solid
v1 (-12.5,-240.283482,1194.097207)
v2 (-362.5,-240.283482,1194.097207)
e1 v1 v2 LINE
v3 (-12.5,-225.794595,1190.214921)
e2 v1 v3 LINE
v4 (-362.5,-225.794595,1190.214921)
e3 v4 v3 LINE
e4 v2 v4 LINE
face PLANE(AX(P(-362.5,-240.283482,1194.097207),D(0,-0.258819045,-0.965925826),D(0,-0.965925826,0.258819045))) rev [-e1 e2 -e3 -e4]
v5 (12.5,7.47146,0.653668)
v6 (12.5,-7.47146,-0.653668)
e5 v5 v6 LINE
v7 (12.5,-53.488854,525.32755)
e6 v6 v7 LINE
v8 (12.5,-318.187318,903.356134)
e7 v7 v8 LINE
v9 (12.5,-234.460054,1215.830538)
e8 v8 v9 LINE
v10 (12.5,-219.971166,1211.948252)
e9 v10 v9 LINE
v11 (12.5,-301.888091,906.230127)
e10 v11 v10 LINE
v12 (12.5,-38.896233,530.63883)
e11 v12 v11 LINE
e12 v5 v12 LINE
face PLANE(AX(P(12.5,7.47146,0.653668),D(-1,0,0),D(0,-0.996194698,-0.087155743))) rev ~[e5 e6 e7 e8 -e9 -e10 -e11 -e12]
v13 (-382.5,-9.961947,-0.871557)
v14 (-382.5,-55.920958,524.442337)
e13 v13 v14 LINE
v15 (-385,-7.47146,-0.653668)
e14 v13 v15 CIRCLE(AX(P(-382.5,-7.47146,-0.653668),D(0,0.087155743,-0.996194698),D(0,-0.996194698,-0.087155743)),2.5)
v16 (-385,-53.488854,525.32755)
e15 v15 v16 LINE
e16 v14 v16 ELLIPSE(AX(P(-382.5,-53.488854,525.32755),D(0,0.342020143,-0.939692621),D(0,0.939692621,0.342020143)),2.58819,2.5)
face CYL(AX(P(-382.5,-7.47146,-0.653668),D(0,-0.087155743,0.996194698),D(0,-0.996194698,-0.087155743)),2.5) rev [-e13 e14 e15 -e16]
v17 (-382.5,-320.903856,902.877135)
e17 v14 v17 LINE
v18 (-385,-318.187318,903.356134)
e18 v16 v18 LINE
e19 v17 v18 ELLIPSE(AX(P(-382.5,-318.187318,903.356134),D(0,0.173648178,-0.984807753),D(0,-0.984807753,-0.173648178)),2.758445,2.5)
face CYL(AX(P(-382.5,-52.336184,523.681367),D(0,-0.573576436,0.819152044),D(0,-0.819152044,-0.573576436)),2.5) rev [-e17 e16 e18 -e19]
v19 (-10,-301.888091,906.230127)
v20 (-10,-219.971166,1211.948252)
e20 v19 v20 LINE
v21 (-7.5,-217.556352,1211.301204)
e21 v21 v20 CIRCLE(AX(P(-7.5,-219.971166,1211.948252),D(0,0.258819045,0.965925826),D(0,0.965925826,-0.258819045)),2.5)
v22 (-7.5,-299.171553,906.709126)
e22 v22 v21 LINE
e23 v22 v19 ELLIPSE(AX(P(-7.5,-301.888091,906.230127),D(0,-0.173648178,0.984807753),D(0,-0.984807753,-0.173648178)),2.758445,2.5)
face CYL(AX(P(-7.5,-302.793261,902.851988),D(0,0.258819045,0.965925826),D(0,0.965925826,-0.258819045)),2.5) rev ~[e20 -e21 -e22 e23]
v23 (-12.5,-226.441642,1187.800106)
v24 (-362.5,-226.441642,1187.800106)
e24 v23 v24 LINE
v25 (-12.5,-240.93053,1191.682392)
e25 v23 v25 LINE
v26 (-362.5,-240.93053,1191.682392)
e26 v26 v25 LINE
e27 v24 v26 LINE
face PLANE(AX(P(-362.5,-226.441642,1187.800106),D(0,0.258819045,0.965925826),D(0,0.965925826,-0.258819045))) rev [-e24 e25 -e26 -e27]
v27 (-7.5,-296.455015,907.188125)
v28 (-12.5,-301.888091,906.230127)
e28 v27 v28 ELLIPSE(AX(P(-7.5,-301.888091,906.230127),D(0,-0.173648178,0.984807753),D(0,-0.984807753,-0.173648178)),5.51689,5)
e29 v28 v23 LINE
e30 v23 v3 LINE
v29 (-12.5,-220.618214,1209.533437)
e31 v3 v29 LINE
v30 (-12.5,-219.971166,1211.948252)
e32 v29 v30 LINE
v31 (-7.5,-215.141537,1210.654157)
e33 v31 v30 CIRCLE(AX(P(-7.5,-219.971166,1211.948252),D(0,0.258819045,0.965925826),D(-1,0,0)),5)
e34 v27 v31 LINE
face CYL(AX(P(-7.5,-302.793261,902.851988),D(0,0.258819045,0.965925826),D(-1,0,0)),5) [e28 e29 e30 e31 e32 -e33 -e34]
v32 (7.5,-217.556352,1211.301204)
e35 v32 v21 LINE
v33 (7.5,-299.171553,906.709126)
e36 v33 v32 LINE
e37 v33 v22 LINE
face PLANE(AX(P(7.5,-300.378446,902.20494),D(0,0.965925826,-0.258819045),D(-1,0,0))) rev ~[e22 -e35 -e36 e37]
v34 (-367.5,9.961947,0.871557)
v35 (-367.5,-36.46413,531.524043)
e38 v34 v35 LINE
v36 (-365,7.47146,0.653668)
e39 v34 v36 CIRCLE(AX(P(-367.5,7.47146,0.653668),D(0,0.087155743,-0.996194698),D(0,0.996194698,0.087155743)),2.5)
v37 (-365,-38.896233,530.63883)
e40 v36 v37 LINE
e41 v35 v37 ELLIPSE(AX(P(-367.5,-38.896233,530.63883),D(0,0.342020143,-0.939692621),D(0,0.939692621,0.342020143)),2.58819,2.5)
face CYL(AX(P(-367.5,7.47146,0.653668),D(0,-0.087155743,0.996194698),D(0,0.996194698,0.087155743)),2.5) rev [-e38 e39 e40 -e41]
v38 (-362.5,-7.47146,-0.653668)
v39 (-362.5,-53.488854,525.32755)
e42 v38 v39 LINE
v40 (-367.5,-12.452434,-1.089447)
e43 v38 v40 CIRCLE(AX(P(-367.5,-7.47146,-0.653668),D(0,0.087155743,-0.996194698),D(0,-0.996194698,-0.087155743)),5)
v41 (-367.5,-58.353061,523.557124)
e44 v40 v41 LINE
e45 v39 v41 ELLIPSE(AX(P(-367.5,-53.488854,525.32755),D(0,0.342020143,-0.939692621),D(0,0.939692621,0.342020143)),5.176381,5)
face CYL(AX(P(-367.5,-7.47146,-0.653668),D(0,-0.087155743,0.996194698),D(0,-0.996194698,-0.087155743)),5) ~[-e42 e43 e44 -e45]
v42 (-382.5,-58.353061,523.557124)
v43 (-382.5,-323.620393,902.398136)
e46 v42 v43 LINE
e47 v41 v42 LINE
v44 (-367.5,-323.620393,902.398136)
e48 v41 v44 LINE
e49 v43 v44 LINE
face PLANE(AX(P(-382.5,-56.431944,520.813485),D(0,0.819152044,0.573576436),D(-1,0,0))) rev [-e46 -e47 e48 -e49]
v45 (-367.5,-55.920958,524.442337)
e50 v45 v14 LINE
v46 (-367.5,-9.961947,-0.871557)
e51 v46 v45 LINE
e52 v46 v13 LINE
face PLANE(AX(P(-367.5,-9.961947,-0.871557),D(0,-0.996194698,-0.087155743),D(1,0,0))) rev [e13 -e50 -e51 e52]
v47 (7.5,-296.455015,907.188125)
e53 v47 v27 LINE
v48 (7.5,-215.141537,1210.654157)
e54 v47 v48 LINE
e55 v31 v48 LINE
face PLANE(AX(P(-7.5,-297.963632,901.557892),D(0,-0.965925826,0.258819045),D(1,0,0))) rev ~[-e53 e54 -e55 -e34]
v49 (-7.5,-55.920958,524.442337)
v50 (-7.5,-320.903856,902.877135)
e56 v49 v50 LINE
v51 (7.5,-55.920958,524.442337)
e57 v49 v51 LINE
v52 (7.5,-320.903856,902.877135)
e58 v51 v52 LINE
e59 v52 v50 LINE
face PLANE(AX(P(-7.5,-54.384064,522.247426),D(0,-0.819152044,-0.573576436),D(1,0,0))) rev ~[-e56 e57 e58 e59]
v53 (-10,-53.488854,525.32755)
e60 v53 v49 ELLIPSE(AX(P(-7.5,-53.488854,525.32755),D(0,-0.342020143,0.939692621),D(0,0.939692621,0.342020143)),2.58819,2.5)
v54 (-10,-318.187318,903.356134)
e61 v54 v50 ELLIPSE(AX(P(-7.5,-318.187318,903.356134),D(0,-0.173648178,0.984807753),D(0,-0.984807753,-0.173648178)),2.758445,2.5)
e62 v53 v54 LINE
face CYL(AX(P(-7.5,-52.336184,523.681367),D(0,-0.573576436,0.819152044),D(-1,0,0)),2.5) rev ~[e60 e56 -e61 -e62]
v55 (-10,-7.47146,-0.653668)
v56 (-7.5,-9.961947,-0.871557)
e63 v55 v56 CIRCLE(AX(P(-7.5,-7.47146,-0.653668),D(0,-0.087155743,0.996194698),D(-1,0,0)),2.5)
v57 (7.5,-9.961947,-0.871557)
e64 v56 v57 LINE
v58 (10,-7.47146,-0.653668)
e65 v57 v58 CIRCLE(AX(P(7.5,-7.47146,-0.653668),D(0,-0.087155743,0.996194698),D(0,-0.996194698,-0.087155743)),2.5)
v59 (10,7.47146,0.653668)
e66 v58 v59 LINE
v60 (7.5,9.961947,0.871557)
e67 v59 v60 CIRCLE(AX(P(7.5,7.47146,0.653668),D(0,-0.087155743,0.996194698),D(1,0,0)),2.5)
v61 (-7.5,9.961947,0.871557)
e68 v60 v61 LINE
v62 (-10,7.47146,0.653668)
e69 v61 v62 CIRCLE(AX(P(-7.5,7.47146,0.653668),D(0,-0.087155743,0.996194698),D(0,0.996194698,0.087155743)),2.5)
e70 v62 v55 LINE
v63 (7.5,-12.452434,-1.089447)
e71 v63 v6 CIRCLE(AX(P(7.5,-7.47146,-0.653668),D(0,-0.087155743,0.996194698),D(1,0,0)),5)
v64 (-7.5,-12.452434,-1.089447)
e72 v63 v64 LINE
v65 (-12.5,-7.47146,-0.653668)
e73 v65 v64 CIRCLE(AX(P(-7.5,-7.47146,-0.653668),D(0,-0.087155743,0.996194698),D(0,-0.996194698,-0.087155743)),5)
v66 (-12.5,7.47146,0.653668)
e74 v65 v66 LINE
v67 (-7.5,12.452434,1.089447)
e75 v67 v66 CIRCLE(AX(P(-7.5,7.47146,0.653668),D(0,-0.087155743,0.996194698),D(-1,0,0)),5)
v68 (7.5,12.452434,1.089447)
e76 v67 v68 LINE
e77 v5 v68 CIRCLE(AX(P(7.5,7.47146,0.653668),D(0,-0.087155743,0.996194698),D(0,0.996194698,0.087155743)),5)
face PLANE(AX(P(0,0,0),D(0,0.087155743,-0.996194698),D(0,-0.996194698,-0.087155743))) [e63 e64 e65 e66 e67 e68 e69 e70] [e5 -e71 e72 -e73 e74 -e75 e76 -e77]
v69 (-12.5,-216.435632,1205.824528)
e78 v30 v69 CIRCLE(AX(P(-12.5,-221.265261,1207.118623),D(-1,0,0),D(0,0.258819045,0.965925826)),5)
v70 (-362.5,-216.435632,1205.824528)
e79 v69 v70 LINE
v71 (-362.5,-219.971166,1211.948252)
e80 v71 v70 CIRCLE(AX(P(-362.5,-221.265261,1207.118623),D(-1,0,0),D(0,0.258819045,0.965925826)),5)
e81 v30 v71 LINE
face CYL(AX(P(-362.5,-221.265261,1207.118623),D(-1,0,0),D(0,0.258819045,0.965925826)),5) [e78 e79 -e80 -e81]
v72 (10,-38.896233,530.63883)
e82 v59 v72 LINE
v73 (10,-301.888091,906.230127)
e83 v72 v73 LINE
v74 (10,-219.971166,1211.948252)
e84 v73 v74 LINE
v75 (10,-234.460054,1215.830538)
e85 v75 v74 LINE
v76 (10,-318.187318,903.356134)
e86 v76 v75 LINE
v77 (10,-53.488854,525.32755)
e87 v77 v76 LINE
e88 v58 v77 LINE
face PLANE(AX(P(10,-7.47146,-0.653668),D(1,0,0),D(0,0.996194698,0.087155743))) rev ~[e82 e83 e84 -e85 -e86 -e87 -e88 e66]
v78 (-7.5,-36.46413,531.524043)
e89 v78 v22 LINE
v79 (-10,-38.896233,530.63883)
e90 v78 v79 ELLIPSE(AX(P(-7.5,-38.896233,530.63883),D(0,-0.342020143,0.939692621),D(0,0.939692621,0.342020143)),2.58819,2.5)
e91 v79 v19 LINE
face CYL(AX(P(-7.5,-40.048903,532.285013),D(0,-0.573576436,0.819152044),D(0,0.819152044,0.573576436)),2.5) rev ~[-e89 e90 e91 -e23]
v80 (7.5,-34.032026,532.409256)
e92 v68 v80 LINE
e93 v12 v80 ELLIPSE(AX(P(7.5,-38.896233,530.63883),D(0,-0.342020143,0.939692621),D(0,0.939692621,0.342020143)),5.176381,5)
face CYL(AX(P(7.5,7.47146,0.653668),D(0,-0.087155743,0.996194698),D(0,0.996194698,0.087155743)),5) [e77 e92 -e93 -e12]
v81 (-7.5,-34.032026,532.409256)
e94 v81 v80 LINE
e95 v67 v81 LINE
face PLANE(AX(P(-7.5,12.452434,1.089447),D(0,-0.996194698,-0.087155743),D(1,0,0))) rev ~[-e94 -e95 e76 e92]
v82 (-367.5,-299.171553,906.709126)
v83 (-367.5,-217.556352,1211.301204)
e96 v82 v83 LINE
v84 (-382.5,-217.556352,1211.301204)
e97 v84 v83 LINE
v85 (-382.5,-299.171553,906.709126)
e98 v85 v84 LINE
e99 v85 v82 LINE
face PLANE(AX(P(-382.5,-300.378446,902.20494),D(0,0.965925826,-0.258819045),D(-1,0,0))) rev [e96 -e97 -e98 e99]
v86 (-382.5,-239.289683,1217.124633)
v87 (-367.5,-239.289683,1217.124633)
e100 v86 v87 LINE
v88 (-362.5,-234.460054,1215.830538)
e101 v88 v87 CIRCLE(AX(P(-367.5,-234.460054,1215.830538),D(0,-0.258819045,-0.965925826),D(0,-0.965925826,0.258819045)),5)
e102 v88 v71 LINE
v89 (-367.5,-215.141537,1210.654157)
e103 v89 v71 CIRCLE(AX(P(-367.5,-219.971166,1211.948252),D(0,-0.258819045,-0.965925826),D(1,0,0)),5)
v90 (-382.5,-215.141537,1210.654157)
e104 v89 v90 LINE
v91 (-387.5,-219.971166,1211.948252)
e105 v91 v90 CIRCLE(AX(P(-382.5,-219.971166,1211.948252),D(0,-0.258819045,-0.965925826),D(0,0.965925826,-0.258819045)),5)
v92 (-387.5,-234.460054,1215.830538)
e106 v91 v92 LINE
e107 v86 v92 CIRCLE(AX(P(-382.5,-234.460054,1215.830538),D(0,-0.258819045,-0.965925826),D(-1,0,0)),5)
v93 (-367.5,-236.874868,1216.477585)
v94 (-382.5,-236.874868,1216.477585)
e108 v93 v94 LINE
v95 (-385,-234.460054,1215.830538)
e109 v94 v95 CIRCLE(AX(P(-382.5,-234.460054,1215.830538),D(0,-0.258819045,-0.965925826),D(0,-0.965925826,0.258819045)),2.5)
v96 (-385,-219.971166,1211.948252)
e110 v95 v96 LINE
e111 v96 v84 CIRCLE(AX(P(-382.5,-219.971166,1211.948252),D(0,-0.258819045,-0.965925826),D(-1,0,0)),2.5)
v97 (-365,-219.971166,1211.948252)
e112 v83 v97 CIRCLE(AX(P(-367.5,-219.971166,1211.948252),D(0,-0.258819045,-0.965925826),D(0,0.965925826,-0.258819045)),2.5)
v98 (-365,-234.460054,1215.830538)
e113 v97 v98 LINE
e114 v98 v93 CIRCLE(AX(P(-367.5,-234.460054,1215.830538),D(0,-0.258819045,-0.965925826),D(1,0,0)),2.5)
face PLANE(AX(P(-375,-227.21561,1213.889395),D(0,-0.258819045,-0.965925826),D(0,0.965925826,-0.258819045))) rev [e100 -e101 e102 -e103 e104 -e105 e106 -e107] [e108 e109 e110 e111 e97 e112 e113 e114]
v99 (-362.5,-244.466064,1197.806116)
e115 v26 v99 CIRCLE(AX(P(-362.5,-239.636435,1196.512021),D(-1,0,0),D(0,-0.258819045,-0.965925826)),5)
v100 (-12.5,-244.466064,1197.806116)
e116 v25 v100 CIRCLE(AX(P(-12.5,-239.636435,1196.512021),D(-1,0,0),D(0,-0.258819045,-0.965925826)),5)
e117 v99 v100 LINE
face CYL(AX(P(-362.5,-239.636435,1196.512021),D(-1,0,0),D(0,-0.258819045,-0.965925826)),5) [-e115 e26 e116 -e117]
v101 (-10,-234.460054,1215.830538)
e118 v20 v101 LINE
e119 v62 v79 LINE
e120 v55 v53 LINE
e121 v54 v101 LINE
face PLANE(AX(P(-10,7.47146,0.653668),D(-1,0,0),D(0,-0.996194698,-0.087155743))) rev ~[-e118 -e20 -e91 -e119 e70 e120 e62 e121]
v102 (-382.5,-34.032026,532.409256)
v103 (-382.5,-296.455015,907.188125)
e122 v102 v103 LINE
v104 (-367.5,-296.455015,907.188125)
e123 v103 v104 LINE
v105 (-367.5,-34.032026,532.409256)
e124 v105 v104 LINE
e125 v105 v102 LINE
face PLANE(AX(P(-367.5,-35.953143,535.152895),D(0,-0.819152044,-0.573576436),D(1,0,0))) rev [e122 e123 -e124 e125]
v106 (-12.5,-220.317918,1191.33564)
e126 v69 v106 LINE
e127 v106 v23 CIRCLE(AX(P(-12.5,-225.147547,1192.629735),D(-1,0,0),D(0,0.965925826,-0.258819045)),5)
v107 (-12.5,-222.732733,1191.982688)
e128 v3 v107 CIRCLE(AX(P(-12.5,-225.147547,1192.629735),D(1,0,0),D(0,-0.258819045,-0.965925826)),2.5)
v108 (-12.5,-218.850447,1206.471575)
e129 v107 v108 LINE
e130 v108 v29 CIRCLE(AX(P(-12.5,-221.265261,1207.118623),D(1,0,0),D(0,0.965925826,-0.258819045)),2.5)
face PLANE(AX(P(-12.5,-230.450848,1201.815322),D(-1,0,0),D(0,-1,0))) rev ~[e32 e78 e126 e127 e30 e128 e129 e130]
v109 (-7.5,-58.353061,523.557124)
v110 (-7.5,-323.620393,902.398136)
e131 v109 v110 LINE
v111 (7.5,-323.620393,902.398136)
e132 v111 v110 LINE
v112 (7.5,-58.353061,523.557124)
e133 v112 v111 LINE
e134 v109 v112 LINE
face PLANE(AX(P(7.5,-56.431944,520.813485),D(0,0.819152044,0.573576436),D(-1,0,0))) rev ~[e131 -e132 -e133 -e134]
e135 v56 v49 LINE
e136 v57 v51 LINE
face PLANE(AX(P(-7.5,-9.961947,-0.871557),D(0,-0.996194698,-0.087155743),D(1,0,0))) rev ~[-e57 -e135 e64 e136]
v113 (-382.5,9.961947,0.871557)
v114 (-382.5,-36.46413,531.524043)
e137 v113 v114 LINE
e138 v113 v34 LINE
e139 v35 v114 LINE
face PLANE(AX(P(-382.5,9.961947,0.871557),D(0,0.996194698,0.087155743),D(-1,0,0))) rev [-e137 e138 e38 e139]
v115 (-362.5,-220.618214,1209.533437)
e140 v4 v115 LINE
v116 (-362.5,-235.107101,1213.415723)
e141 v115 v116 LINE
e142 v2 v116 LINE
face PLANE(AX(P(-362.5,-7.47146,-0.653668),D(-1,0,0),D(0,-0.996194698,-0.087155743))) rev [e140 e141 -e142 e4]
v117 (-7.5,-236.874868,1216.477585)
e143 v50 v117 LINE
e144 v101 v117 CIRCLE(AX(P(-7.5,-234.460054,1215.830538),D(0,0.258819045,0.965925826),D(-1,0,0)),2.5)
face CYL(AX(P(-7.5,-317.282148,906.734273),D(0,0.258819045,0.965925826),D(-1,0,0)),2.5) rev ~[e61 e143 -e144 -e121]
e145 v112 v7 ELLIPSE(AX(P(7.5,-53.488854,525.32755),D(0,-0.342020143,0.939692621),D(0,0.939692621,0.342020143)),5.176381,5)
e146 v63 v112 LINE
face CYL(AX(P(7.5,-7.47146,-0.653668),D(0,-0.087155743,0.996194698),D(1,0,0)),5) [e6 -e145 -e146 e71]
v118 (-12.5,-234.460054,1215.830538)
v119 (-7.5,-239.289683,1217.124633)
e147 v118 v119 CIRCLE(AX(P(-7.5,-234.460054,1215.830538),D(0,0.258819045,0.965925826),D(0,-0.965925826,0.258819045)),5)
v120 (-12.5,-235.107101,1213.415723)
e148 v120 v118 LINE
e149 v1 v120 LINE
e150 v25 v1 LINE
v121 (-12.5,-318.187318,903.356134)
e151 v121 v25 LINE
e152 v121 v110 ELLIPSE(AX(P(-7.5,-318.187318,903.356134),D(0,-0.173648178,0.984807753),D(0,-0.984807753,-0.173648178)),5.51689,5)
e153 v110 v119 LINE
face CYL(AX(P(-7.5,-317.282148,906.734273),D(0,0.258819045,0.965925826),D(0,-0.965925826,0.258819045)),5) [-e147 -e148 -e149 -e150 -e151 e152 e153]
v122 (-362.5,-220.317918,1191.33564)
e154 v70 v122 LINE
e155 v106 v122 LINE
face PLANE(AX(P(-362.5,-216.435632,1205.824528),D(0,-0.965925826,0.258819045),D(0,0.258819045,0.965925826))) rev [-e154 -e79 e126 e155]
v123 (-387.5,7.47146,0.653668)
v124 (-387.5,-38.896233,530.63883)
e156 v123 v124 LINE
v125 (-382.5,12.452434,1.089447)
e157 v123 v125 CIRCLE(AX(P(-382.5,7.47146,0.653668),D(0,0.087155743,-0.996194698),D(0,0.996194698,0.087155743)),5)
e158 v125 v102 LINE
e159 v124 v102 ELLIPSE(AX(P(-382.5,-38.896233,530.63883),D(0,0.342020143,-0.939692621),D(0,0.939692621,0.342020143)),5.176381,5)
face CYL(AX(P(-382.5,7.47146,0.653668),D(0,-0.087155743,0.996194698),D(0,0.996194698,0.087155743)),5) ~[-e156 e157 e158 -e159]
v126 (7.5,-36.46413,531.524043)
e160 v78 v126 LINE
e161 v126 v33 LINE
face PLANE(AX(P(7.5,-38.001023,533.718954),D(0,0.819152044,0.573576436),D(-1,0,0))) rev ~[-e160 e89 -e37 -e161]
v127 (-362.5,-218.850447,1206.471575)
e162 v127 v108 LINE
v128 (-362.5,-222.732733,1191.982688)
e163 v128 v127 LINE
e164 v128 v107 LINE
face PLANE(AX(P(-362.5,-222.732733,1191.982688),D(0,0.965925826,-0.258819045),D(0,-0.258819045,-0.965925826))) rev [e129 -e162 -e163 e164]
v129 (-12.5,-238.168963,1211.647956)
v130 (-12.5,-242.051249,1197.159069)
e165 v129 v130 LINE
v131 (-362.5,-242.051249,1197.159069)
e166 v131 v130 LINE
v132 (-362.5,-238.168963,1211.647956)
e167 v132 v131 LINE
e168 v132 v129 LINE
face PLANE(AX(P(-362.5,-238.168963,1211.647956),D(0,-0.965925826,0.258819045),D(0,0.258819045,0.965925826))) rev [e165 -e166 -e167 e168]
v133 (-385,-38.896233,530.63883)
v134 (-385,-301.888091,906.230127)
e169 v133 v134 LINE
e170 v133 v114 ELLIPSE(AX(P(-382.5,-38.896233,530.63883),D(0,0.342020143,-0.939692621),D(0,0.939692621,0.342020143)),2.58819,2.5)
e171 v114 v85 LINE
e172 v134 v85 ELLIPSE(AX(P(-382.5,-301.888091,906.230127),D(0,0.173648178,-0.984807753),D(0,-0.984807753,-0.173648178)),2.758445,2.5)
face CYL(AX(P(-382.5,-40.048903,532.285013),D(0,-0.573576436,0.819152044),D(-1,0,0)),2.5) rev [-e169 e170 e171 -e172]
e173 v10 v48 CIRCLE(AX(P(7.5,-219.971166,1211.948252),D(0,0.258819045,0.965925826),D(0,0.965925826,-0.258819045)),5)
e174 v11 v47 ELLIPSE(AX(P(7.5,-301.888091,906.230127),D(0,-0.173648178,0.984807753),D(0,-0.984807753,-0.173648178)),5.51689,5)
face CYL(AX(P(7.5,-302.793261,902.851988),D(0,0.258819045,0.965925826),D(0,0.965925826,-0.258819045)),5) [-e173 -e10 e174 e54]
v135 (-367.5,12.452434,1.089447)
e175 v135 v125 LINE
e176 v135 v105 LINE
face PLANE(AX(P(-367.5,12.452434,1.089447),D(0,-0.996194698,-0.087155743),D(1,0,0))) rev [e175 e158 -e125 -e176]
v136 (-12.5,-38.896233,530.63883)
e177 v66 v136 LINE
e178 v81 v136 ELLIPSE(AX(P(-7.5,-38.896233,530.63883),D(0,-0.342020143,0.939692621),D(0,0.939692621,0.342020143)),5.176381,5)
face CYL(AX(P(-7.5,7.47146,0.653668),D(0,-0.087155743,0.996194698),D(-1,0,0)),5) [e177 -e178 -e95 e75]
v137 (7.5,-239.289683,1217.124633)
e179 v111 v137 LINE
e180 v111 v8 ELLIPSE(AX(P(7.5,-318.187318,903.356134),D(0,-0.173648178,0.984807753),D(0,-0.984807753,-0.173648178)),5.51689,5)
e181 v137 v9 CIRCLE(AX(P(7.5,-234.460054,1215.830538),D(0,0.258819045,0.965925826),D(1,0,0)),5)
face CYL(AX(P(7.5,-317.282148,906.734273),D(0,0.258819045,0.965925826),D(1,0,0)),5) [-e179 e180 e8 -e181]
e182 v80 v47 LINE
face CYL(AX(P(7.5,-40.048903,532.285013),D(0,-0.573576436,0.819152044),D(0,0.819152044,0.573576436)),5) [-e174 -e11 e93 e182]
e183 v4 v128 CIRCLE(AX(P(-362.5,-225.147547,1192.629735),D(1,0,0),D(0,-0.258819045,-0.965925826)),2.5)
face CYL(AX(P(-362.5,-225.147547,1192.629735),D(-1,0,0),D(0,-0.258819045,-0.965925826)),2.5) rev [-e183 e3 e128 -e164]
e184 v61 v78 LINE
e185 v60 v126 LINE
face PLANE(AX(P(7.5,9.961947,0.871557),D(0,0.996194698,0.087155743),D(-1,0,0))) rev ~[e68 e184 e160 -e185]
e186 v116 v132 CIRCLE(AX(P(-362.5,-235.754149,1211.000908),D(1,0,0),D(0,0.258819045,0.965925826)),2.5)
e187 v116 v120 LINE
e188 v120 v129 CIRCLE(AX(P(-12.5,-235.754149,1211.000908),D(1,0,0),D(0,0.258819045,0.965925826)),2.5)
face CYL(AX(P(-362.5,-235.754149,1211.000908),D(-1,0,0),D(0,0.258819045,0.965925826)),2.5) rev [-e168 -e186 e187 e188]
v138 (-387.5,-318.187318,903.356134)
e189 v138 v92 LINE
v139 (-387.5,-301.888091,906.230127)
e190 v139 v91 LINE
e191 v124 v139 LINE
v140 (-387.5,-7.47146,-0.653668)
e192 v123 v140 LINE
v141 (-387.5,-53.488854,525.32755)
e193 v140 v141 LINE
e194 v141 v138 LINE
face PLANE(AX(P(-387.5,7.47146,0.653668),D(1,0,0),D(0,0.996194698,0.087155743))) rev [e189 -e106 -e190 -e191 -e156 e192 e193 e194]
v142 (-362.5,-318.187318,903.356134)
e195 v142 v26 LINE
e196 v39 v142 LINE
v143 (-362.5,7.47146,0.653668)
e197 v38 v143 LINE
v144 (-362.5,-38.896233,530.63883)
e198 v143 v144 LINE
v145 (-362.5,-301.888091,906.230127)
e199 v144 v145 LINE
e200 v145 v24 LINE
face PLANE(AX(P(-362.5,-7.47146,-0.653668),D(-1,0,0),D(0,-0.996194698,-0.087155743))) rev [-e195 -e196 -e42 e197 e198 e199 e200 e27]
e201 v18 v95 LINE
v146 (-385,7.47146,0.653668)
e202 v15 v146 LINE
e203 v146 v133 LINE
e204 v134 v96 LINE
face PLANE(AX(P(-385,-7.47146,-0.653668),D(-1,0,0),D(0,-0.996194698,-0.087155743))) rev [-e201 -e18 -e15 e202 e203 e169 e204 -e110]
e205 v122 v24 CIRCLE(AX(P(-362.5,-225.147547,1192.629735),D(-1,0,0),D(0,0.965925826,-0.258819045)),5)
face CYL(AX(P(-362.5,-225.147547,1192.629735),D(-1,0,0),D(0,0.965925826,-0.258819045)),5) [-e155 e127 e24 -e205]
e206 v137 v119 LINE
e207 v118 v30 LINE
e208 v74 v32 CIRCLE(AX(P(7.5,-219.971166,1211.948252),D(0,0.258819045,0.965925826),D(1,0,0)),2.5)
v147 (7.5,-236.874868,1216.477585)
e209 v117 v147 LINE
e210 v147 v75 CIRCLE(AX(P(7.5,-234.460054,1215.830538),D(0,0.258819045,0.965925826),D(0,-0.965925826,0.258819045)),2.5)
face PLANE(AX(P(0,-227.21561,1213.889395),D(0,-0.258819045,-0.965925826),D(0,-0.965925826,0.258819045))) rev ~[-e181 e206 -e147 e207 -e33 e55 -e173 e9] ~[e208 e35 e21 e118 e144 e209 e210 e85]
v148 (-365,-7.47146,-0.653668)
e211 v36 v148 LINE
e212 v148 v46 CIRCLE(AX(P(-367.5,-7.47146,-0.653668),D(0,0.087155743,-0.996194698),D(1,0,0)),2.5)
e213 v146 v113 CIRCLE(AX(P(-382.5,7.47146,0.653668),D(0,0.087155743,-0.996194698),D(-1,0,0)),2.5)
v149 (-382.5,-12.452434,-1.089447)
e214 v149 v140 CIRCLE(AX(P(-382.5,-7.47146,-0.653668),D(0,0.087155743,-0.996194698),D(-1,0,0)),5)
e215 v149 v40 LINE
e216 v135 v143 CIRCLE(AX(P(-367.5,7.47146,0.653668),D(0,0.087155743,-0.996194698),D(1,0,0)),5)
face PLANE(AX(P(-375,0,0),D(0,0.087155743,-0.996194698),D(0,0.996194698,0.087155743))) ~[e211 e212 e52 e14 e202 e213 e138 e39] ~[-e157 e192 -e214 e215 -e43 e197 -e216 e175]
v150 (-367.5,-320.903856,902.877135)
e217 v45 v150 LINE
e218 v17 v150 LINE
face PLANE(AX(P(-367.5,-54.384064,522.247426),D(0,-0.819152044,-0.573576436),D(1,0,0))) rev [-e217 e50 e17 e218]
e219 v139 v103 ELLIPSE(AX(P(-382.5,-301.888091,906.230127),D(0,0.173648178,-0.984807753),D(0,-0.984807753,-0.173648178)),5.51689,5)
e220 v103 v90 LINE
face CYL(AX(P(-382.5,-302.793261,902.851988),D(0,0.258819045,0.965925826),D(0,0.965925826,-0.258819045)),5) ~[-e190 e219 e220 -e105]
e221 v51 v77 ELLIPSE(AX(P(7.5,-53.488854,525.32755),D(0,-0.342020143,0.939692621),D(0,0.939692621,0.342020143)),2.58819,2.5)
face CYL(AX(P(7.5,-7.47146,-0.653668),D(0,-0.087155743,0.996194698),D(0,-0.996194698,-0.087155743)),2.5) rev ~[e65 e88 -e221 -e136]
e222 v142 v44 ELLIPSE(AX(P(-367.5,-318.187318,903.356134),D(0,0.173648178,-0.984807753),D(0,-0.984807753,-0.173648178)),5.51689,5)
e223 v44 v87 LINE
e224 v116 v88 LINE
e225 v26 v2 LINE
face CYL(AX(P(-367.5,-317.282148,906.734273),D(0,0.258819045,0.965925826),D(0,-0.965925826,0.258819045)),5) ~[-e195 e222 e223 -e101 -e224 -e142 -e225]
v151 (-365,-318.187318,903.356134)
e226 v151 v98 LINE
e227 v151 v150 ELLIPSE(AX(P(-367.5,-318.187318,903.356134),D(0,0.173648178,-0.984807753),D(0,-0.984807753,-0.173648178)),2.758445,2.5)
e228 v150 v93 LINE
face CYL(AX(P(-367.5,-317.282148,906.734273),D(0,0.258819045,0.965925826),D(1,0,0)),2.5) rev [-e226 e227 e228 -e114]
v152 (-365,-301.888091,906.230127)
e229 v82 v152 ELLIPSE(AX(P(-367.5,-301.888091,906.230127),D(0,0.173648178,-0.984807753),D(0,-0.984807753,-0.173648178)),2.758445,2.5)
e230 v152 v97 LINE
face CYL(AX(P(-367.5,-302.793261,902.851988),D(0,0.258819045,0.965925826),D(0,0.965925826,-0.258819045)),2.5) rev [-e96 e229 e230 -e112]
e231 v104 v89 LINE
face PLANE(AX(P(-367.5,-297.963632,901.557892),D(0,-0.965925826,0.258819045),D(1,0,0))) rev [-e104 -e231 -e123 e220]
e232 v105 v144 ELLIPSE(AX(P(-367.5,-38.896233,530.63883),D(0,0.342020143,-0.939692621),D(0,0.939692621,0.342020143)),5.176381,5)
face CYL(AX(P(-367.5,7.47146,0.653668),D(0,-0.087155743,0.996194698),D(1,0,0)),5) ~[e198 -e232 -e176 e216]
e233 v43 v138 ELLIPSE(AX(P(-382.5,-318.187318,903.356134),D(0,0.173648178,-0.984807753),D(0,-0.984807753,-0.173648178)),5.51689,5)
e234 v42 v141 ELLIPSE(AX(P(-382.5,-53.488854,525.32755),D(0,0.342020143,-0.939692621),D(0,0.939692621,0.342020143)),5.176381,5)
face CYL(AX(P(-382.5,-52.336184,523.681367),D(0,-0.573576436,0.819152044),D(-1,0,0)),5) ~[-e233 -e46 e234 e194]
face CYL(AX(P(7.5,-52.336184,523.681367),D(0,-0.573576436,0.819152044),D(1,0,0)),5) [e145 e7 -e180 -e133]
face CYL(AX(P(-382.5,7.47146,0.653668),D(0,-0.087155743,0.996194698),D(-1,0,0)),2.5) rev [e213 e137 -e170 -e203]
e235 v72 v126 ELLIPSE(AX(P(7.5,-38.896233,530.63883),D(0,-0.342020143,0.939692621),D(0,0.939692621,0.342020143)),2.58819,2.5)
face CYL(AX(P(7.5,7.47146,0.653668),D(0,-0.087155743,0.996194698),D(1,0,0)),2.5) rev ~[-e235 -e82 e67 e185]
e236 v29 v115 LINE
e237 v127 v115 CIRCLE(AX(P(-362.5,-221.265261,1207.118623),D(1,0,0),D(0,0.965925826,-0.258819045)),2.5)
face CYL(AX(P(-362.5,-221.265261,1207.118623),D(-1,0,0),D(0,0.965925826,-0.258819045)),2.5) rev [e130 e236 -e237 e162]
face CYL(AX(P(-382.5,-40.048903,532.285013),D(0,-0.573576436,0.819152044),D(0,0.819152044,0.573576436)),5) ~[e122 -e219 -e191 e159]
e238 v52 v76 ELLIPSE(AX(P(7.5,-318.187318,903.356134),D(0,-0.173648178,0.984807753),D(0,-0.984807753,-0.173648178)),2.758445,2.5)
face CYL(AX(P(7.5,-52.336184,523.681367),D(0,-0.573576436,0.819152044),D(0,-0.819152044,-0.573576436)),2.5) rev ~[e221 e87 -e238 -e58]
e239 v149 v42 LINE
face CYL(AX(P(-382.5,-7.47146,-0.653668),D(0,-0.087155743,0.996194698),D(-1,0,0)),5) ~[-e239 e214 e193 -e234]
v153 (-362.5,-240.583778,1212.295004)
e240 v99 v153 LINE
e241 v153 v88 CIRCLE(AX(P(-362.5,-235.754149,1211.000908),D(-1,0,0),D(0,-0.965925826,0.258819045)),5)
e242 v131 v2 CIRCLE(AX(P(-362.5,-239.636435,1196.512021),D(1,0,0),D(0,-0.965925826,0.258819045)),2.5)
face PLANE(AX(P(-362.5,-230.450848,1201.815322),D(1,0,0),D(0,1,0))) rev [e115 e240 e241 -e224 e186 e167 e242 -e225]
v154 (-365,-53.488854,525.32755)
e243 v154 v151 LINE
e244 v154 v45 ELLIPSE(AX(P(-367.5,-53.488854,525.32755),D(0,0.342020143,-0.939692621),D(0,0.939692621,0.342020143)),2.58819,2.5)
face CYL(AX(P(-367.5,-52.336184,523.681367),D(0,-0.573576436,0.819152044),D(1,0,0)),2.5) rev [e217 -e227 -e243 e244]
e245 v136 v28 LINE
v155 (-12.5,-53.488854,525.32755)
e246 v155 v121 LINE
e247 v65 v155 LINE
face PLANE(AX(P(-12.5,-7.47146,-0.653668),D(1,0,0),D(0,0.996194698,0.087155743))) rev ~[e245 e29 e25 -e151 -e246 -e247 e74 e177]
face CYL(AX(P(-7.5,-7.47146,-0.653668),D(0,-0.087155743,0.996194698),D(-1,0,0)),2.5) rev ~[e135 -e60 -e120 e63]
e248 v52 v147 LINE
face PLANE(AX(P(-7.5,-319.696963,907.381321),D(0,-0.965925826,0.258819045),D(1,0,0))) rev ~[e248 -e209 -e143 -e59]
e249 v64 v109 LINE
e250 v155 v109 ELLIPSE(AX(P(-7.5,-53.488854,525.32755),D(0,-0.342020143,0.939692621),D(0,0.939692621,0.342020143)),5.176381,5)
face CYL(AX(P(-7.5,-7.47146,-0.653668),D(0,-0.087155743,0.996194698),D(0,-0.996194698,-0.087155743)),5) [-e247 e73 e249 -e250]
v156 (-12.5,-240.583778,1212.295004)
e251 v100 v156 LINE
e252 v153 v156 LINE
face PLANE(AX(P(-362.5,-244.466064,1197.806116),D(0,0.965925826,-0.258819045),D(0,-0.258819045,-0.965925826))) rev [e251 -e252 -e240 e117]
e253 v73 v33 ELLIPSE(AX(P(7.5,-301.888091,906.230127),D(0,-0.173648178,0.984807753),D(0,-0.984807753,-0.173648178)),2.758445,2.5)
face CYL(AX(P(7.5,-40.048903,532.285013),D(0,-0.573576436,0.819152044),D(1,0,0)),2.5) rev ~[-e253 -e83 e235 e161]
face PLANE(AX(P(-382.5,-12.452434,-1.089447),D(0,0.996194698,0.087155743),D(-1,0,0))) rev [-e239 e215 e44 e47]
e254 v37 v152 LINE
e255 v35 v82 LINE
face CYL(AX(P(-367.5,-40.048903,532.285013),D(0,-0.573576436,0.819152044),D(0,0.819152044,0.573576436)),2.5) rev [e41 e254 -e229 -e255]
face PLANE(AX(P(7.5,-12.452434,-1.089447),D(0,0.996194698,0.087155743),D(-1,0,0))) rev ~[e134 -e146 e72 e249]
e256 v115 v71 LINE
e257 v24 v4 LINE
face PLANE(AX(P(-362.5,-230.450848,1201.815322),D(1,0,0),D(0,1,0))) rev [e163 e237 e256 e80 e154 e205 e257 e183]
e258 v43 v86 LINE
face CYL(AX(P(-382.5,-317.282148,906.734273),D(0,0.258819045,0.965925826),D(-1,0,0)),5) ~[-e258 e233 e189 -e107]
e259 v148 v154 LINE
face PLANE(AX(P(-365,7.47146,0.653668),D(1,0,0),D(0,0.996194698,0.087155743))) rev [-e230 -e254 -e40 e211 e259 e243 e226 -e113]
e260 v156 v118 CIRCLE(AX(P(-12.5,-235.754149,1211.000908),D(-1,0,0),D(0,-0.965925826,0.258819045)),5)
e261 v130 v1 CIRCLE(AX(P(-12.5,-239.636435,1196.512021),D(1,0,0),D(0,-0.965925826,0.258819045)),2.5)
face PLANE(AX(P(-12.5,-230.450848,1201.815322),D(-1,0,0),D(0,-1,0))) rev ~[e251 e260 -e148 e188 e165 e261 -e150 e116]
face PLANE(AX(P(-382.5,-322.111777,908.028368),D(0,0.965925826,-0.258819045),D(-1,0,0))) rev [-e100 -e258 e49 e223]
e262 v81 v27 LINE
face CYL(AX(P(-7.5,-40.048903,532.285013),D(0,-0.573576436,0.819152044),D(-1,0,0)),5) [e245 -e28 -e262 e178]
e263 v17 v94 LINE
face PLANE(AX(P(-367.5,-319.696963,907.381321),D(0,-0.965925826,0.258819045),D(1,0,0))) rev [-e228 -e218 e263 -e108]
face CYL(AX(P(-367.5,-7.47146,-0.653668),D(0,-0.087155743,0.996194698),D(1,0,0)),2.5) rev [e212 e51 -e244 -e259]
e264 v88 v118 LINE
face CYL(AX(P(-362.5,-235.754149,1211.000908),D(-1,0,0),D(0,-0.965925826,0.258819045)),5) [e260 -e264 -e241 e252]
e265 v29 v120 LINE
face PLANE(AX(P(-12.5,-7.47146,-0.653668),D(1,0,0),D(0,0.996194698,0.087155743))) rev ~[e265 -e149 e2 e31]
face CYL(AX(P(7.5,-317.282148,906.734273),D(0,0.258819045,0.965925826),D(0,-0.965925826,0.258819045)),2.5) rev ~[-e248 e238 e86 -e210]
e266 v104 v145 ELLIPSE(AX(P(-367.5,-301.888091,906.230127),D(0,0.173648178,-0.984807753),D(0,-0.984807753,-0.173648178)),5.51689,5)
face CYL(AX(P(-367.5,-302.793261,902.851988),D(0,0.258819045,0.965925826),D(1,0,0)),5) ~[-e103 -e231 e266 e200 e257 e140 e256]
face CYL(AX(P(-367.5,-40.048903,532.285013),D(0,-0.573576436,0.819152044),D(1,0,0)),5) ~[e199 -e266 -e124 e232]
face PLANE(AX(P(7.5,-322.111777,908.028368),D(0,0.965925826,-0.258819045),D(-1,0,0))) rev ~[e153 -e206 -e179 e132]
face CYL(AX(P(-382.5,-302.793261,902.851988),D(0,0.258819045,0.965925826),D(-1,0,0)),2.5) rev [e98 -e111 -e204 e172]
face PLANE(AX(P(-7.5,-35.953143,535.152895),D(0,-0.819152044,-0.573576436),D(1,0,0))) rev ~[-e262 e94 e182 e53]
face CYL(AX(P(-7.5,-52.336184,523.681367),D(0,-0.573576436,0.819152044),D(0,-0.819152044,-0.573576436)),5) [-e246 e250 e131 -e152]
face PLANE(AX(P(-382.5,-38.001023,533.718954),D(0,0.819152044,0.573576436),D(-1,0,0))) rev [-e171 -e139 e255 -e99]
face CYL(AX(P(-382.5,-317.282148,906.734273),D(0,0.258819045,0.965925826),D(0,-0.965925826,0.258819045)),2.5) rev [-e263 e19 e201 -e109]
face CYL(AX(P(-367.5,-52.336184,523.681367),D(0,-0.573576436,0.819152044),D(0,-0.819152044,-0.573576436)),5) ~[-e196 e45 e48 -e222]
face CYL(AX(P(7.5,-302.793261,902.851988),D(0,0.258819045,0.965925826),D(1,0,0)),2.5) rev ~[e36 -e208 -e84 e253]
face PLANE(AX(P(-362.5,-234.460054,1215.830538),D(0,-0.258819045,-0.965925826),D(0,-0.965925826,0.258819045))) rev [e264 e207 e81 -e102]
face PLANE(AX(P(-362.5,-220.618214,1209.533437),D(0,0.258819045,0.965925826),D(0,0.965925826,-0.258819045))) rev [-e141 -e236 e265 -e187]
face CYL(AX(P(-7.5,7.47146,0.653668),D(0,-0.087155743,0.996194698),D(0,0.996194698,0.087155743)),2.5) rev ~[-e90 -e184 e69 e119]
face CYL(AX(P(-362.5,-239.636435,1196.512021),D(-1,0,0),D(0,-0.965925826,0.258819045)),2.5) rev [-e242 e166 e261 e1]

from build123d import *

# Parameters (mm, degrees)
F5_DEPTH = 175


with BuildPart() as f3:
    # F3: sweep along a path in F0
    with BuildLine(Plane.YZ) as f3_path:
        Line((0, 0), (-46.1925436563, 527.9831899886))
        Line((-46.1925436563, 527.9831899886), (-310.0377043777, 904.7931303616))
        Line((-310.0377043777, 904.7931303616), (-227.2156099449, 1213.8893947741))
    # F2 (on line) → F3 (sweep)
    with BuildSketch(Plane(origin=(0, 0, 0), x_dir=(1, 0, 0), z_dir=(0, 0.0871557427, -0.9961946981))):
        with BuildLine():
            ThreePointArc((-12.5, -7.5), (-11.0355339059, -11.0355339059), (-7.5, -12.5))
            Line((-7.5, -12.5), (7.5, -12.5))
            ThreePointArc((7.5, -12.5), (11.0355339059, -11.0355339059), (12.5, -7.5))
            Line((12.5, -7.5), (12.5, 7.5))
            ThreePointArc((12.5, 7.5), (11.0355339059, 11.0355339059), (7.5, 12.5))
            Line((7.5, 12.5), (-7.5, 12.5))
            ThreePointArc((-7.5, 12.5), (-11.0355339059, 11.0355339059), (-12.5, 7.5))
            Line((-12.5, 7.5), (-12.5, -7.5))
        make_face()
        with BuildLine():
            ThreePointArc((10, -7.5), (9.267766953, -9.267766953), (7.5, -10))
            Line((7.5, -10), (-7.5, -10))
            ThreePointArc((-7.5, -10), (-9.267766953, -9.267766953), (-10, -7.5))
            Line((-10, -7.5), (-10, 7.5))
            ThreePointArc((-10, 7.5), (-9.267766953, 9.267766953), (-7.5, 10))
            Line((-7.5, 10), (7.5, 10))
            ThreePointArc((7.5, 10), (9.267766953, 9.267766953), (10, 7.5))
            Line((10, 7.5), (10, -7.5))
        make_face(mode=Mode.SUBTRACT)
    sweep(path=f3_path.line, transition=Transition.RIGHT)

    # F4 (on face) → F5 (join)
    with BuildSketch(Plane(origin=(-12.5, 0, 0), x_dir=(0, -1, 0), z_dir=(-1, 0, 0))):
        with BuildLine():
            Line((234.4600536421, 1215.8305376123), (219.9711662478, 1211.9482519358))
            ThreePointArc((219.9711662478, 1211.9482519358), (216.9351344544, 1209.6186228043), (216.4356323418, 1205.8245275788))
            Line((216.4356323418, 1205.8245275788), (220.3179180184, 1191.3356401845))
            ThreePointArc((220.3179180184, 1191.3356401845), (222.6475471498, 1188.2996083911), (226.4416423753, 1187.8001062786))
            Line((226.4416423753, 1187.8001062786), (240.9305297697, 1191.6823919551))
            ThreePointArc((240.9305297697, 1191.6823919551), (243.9665615631, 1194.0120210866), (244.4660636756, 1197.8061163121))
            Line((244.4660636756, 1197.8061163121), (240.5837779991, 1212.2950037064))
            ThreePointArc((240.5837779991, 1212.2950037064), (238.2541488676, 1215.3310354998), (234.4600536421, 1215.8305376123))
        make_face()
        with BuildLine():
            ThreePointArc((235.1071012549, 1213.4157230466), (237.0041488676, 1213.1659719903), (238.1689634333, 1211.6479560936))
            Line((238.1689634333, 1211.6479560936), (242.0512491099, 1197.1590686993))
            ThreePointArc((242.0512491099, 1197.1590686993), (241.8014980536, 1195.2620210866), (240.2834821569, 1194.0972065208))
            Line((240.2834821569, 1194.0972065208), (225.7945947626, 1190.2149208443))
            ThreePointArc((225.7945947626, 1190.2149208443), (223.8975471498, 1190.4646719006), (222.7327325841, 1191.9826877973))
            Line((222.7327325841, 1191.9826877973), (218.8504469076, 1206.4715751916))
            ThreePointArc((218.8504469076, 1206.4715751916), (219.1001979638, 1208.3686228043), (220.6182138605, 1209.5334373701))
            Line((220.6182138605, 1209.5334373701), (235.1071012549, 1213.4157230466))
        make_face(mode=Mode.SUBTRACT)
    extrude(amount=F5_DEPTH)

    # F6: F3 across face


with BuildPart() as f3_1:
    add(f3.part)
    add(f3.part.mirror(Plane(origin=(-187.5, -230.4508480087, 1201.8153219455), x_dir=(0, -1, 0), z_dir=(-1, 0, 0))))


solid = f3_1.part
